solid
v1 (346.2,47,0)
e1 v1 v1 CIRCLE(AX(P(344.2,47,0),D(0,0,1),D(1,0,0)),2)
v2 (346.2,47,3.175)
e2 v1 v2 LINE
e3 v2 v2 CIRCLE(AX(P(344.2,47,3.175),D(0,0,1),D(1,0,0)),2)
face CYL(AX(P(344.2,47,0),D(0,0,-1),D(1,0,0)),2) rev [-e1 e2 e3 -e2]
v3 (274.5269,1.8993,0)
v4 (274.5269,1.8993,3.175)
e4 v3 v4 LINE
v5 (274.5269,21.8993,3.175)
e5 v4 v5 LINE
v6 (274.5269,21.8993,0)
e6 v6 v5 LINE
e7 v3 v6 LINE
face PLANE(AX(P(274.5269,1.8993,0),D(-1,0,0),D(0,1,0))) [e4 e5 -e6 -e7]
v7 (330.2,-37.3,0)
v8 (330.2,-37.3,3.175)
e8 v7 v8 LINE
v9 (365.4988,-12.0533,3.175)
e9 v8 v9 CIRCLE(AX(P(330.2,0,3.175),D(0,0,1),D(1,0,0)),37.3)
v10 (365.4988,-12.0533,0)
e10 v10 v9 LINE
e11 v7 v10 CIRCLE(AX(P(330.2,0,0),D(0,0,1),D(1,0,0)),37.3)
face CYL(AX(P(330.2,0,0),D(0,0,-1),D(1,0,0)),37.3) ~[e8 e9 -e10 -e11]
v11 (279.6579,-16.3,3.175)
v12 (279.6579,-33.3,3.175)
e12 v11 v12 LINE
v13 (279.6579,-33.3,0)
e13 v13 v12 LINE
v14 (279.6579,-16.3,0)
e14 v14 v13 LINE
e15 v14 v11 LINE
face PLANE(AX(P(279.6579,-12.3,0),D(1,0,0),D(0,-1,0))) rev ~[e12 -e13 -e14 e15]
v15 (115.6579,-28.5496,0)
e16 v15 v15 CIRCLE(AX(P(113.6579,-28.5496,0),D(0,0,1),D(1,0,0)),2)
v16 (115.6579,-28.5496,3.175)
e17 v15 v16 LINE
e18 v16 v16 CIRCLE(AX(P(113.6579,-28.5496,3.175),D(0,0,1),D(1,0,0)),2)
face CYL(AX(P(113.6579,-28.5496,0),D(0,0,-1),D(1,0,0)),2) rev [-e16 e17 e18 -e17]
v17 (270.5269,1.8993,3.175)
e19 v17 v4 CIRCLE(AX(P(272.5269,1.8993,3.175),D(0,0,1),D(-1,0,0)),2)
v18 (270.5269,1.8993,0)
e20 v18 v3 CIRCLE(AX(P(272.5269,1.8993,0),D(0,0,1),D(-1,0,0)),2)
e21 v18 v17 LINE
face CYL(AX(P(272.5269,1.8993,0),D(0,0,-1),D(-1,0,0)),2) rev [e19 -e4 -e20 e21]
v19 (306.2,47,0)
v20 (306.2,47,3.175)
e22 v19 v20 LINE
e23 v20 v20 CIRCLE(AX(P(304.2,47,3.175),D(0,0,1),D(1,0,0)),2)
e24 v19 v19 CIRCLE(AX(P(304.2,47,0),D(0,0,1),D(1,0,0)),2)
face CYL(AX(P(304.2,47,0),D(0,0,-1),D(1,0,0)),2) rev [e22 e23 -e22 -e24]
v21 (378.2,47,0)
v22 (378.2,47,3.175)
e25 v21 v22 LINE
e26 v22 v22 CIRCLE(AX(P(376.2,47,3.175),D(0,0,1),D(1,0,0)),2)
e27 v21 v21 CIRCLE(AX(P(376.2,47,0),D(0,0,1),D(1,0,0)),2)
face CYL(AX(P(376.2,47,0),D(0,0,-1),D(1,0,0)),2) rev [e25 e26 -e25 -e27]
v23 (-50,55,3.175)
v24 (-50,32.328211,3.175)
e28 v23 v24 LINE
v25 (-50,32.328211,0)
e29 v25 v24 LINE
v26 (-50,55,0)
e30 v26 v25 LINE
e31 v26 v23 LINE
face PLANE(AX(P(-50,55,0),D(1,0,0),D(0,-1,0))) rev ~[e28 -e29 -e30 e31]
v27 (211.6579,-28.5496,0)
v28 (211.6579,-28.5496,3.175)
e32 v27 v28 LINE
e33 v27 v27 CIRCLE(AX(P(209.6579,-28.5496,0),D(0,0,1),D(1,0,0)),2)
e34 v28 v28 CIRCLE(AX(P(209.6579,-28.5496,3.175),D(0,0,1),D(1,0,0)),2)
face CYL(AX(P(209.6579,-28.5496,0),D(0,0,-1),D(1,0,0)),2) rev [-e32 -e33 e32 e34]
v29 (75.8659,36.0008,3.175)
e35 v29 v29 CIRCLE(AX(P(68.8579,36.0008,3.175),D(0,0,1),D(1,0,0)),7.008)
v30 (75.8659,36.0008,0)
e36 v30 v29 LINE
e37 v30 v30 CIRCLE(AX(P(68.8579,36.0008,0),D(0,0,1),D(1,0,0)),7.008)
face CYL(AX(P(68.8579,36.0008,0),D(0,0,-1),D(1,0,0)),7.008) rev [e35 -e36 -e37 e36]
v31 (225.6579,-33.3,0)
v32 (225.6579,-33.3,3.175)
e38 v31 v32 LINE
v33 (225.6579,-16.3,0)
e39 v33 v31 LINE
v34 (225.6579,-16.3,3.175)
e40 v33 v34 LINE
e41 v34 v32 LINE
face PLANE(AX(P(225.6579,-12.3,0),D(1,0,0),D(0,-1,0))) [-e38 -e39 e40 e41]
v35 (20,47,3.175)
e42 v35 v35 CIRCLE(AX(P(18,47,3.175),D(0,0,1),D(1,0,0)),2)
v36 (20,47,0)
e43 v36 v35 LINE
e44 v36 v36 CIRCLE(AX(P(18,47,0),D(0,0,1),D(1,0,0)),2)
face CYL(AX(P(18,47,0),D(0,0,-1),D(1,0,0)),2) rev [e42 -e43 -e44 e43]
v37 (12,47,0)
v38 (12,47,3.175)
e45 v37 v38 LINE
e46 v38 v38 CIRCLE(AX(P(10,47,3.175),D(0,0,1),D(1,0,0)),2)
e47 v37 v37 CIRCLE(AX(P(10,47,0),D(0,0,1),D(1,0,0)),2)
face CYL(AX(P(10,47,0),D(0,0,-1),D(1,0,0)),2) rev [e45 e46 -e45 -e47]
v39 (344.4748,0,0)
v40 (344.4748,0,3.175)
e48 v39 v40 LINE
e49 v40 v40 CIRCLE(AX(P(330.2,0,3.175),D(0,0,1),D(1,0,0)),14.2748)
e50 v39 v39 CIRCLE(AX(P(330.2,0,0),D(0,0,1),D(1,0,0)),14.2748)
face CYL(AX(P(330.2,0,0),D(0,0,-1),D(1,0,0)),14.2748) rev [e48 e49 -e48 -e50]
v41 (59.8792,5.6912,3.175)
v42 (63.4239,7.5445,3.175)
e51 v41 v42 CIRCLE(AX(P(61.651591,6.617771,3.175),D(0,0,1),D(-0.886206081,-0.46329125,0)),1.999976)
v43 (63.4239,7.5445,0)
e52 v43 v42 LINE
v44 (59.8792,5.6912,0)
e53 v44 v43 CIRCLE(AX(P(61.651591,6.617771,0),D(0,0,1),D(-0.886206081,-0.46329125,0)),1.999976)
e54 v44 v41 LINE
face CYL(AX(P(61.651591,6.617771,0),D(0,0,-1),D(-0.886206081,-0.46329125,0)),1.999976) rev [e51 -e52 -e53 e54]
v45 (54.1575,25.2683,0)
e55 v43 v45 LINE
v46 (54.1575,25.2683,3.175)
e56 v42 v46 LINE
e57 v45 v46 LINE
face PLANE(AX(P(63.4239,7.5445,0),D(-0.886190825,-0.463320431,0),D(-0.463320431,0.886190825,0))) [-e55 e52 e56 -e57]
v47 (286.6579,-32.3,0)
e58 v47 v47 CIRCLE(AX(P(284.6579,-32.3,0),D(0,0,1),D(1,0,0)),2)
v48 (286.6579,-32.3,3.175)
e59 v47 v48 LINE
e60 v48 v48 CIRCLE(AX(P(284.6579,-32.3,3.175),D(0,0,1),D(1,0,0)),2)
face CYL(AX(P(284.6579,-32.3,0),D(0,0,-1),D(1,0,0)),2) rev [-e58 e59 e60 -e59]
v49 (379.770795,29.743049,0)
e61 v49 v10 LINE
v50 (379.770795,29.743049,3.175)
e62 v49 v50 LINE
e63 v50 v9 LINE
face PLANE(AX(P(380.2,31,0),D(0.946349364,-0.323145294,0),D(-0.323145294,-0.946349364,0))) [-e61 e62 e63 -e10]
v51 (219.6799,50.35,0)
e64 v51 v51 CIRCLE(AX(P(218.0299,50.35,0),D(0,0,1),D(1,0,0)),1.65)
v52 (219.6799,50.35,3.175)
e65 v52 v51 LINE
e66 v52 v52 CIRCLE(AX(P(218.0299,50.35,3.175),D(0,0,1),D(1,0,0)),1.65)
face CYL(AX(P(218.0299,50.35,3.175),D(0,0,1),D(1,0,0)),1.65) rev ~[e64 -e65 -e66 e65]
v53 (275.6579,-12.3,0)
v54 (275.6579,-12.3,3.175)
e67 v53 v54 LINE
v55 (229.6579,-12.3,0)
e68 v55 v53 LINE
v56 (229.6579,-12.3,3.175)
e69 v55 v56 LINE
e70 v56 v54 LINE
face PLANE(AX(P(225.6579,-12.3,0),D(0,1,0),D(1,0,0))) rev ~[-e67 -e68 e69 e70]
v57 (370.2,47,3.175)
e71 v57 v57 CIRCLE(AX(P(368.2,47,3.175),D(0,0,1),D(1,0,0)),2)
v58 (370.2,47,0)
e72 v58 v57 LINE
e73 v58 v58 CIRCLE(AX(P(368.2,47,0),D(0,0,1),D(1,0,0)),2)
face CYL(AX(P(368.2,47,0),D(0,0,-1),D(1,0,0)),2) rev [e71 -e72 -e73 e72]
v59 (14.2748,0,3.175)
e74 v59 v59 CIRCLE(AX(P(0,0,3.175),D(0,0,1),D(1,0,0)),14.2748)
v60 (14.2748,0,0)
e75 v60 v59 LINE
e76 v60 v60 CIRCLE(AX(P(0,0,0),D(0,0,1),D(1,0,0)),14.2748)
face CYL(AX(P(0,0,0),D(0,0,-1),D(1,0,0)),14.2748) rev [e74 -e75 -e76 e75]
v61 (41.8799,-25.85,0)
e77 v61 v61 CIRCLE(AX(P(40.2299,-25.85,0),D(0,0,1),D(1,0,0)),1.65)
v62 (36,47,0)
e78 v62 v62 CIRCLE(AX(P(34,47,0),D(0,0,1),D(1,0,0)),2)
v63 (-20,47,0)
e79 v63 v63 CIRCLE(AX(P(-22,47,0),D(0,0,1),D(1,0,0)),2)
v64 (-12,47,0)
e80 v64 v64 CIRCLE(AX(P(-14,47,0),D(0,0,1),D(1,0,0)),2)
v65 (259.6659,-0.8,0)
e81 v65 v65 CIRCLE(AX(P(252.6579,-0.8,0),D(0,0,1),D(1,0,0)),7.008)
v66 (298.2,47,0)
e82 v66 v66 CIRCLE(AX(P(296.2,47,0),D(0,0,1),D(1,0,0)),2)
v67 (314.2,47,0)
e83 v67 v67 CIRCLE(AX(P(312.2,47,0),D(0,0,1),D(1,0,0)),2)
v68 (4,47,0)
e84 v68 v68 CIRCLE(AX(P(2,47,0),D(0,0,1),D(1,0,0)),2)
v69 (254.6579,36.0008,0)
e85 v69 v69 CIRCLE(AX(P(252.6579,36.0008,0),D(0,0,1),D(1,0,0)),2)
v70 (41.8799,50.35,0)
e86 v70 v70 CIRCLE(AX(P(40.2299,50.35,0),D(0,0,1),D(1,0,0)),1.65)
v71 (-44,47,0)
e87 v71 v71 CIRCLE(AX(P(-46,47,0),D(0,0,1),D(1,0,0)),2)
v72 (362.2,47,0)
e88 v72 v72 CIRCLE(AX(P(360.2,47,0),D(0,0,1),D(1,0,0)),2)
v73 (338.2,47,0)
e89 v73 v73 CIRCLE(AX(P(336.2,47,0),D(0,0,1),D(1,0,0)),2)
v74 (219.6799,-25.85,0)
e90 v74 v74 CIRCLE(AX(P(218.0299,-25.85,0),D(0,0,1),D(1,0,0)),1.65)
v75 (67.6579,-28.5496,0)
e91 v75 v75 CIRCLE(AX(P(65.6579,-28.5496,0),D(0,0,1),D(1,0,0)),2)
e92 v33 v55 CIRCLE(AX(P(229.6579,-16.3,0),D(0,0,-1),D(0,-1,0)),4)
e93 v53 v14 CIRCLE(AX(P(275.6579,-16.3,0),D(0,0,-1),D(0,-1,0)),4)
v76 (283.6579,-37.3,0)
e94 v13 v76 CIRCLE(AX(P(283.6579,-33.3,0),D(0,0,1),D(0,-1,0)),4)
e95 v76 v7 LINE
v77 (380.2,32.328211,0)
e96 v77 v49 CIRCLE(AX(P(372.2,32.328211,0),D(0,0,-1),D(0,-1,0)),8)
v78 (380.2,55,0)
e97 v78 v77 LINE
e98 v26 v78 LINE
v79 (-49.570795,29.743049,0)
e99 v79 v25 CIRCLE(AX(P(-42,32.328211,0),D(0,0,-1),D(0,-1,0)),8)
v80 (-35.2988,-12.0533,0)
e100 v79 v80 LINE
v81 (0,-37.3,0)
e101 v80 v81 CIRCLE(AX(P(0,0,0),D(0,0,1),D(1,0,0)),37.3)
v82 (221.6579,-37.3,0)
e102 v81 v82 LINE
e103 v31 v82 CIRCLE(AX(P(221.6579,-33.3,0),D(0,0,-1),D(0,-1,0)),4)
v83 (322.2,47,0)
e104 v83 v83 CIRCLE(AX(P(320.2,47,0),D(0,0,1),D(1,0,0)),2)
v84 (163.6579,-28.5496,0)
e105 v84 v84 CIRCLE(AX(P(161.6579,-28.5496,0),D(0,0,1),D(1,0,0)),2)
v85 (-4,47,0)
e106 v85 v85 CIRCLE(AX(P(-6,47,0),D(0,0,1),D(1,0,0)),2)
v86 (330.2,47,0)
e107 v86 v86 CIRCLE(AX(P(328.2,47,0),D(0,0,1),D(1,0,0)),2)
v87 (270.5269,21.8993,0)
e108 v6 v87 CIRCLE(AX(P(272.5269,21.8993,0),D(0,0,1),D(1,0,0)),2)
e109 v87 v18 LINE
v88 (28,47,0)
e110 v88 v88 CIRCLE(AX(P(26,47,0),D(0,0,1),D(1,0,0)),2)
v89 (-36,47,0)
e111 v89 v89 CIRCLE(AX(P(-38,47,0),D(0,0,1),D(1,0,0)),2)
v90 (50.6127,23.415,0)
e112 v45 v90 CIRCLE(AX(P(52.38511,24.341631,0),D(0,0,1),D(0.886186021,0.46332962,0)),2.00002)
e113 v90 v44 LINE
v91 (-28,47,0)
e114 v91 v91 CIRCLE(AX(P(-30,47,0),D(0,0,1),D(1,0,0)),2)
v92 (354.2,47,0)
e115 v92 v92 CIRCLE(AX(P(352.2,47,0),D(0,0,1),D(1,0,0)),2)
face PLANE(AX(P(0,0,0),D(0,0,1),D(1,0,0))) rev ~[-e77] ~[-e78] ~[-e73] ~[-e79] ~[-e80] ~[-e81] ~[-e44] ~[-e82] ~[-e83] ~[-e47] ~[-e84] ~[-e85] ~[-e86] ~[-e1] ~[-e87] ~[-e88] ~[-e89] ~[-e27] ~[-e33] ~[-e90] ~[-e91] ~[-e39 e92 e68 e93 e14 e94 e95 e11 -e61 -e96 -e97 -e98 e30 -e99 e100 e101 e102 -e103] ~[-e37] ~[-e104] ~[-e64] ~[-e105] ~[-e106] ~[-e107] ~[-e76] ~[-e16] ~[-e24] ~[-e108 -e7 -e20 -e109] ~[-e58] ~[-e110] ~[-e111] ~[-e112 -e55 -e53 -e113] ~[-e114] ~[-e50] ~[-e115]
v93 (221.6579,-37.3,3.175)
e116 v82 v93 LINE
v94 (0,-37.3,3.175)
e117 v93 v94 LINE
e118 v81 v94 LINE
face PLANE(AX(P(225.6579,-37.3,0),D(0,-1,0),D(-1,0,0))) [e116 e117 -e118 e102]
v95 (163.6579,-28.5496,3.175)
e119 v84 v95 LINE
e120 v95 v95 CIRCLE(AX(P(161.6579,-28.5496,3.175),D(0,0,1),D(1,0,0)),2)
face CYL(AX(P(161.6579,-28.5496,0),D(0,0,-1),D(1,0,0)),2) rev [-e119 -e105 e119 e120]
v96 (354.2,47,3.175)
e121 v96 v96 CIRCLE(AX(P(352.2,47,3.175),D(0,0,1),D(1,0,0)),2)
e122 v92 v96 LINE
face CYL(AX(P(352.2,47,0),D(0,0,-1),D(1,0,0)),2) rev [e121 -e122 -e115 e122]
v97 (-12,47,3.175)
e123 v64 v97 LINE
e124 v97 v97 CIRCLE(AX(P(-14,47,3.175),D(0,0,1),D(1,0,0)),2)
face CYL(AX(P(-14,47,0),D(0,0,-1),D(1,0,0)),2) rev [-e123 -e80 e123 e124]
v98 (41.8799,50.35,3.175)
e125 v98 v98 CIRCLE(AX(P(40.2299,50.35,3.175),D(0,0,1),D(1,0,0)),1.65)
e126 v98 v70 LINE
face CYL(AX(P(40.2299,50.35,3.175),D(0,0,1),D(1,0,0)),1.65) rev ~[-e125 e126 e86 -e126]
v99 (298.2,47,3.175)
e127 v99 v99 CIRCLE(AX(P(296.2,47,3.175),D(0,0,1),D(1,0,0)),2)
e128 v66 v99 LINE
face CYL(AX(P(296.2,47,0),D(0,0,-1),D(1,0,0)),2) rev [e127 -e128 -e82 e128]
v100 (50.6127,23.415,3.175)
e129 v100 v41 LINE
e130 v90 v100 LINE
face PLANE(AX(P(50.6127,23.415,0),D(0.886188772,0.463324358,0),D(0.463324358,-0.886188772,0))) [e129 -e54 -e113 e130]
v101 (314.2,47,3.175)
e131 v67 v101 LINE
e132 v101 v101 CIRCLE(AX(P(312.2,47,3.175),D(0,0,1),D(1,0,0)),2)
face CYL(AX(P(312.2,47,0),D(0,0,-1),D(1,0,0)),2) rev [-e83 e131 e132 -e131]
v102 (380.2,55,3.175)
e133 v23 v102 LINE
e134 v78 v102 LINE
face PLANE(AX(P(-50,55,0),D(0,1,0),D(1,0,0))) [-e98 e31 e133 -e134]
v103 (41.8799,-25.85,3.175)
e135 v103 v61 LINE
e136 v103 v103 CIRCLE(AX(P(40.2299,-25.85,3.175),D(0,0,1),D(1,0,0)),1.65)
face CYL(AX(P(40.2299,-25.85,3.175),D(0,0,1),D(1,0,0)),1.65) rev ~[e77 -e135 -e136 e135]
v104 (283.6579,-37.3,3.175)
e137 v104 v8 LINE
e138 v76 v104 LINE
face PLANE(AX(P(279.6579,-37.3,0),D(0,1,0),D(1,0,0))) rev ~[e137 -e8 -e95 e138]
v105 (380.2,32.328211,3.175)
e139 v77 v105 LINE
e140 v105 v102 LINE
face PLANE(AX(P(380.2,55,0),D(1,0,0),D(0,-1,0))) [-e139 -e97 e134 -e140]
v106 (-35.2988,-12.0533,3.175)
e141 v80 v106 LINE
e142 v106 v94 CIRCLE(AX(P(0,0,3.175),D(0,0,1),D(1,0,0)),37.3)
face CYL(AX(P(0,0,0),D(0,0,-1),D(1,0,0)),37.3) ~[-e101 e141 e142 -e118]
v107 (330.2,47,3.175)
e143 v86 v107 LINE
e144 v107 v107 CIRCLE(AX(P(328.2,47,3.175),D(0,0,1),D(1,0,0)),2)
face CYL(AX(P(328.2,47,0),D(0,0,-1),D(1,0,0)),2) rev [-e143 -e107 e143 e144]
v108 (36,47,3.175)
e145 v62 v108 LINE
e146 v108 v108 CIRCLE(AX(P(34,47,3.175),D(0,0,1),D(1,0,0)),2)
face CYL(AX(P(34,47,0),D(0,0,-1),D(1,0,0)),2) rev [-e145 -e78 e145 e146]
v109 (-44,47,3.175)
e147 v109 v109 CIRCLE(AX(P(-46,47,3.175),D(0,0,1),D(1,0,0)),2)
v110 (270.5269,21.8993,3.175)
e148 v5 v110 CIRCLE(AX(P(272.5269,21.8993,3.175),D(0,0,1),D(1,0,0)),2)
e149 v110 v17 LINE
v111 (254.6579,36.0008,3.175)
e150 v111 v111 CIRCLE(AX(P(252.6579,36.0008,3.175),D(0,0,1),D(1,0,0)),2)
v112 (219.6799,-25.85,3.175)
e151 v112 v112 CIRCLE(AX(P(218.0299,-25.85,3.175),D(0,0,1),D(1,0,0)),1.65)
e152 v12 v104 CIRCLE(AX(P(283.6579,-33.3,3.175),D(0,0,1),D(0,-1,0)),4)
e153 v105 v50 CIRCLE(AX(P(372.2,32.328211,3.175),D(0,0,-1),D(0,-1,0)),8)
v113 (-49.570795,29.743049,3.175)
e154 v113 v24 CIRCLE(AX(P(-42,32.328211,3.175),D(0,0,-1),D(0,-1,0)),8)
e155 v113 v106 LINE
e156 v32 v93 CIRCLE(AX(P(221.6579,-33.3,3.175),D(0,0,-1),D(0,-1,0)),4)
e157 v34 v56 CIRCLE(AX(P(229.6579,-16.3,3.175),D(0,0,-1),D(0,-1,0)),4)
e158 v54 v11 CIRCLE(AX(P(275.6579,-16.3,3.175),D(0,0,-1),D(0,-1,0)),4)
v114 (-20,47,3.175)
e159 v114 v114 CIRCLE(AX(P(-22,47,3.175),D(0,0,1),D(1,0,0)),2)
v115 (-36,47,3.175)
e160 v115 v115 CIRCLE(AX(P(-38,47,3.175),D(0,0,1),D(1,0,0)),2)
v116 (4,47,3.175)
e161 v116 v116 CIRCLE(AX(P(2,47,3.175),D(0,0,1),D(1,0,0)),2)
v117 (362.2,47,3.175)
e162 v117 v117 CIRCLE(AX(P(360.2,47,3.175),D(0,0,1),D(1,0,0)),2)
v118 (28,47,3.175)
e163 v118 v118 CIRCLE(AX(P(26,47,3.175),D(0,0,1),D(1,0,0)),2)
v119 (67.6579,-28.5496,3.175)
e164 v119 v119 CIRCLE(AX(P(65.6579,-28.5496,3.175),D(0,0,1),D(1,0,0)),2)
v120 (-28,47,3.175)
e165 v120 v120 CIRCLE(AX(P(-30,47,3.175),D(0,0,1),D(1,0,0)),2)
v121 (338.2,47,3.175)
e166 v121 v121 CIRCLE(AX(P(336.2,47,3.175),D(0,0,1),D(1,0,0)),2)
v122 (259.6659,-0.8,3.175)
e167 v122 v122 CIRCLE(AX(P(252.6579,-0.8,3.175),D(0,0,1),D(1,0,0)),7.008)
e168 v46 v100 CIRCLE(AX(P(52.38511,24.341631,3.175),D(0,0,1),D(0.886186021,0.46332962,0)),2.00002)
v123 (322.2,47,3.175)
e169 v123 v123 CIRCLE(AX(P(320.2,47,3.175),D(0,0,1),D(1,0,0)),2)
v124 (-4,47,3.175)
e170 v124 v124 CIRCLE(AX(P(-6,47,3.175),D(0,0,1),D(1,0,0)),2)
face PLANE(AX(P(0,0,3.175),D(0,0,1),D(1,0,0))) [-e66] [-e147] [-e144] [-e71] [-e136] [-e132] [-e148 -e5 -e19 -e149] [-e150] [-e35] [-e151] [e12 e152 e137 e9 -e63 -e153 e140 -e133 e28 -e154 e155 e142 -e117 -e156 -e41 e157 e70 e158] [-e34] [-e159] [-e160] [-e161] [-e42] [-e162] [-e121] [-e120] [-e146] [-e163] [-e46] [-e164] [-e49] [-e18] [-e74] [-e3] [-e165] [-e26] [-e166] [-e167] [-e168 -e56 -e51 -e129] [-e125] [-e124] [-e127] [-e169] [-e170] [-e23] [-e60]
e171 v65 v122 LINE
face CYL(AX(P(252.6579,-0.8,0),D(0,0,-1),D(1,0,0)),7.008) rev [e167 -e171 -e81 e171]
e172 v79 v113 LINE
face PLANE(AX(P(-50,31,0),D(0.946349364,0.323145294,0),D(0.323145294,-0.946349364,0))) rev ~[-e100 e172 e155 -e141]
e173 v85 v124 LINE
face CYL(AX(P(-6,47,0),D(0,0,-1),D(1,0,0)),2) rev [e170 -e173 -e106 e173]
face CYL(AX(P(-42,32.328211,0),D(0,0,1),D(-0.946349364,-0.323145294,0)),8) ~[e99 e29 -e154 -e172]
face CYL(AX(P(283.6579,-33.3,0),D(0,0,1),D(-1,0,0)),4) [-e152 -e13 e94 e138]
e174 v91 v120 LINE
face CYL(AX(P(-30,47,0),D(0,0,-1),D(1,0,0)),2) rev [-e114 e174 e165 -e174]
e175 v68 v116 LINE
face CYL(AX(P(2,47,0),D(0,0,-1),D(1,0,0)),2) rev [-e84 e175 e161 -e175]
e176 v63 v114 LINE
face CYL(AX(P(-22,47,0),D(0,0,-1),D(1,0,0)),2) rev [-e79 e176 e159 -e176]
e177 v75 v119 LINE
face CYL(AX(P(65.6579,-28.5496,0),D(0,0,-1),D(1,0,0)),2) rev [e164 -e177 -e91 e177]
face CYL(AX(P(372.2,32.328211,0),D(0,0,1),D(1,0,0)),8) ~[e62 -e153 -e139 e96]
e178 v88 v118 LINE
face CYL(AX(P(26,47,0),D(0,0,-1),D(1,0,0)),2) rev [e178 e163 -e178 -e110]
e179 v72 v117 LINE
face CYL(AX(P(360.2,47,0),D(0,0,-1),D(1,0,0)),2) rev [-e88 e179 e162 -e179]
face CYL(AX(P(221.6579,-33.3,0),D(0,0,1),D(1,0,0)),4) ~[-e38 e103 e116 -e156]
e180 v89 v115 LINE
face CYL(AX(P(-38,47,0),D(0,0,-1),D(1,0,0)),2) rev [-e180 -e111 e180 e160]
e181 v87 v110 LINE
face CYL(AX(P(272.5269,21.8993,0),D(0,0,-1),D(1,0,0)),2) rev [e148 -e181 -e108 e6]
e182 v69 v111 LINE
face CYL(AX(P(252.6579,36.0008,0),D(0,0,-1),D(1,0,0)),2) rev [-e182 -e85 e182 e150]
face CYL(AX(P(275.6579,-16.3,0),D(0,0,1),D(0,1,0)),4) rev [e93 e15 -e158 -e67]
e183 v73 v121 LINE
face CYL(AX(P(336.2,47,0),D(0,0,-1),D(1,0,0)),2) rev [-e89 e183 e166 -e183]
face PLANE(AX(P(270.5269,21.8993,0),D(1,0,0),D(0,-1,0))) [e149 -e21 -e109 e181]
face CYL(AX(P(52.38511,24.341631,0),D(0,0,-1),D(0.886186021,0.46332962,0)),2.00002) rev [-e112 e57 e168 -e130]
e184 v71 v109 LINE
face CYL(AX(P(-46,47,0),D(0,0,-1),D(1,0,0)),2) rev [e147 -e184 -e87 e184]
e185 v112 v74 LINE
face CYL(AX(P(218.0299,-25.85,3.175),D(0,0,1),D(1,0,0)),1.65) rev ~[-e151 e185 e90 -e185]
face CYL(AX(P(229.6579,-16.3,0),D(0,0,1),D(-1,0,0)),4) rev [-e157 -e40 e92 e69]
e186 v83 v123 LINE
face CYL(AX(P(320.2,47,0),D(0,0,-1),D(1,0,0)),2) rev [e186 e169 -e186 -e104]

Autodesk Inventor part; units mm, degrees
ref_plane "YZ Plane" through (0, 0, 0) normal (1, 0, 0) x (0, 1, 0)
ref_plane "XZ Plane" through (0, 0, 0) normal (0, 1, 0) x (-1, 0, 0)
ref_plane "XY Plane" through (0, 0, 0) normal (0, 0, 1) x (1, 0, 0)
sketch "main_sketch" plane through (0, 0, 0) normal (0, 0, 1) x (1, 0, 0)
  circle A0 centre (0, 0) radius 50 construction
  circle A1 centre (330.2, 0) radius 50 construction
  circle A2 centre (0, 0) radius 12.7 construction
  circle A3 centre (330.2, 0) radius 12.7 construction
  circle A4 centre (68.8579, 36.0008) radius 12.7 construction
  circle A5 centre (252.6579, -0.8) radius 12.7 construction
  line L0 (68.8579, 36.0008) -> (0, 0) construction
  circle A6 centre (68.8579, 36.0008) radius 6.75 construction
  circle A7 centre (252.6579, -0.8) radius 6.75 construction
  line L1 (96.8579, 55) -> (220.7349, 55) construction
  line L2 (220.7349, 55) -> (220.7349, 17.0016) construction
  line L3 (220.7349, 17.0016) -> (96.8579, 17.0016) construction
  line L4 (96.8579, 17.0016) -> (96.8579, 55) construction
  line L5 (224.6579, -19.7992) -> (100.7809, -19.7992) construction
  line L6 (100.7809, -19.7992) -> (100.7809, 18.1992) construction
  line L7 (100.7809, 18.1992) -> (224.6579, 18.1992) construction
  line L8 (224.6579, 18.1992) -> (224.6579, -19.7992) construction
  line L9 (100.7809, -0.8) -> (224.6579, -0.8) construction
  line L10 (96.8579, 36.0008) -> (220.7349, 36.0008) construction
  line L11 (330.331, -12.6993) -> (252.7889, -13.4993) construction
  line L12 (5.8842, -11.2546) -> (74.7421, 24.7462) construction
  line L13 (-5.8842, 11.2546) -> (62.9737, 47.2554) construction
  line L14 (254.6579, -13.3) -> (278.6579, -13.3) construction
  line L15 (278.6579, -13.3) -> (278.6579, -37.3) construction
  line L16 (278.6579, -37.3) -> (254.6579, -37.3) construction
  line L17 (254.6579, -37.3) -> (254.6579, -13.3) construction
  line L18 (252.6579, -0.8) -> (330.2, 0) construction
  line L19 (0, -50) -> (330.2, -50) construction
  line L20 (250.6579, -37.3) -> (226.6579, -37.3) construction
  line L21 (226.6579, -37.3) -> (226.6579, -13.3) construction
  line L22 (226.6579, -13.3) -> (250.6579, -13.3) construction
  line L23 (250.6579, -13.3) -> (250.6579, -37.3) construction
  line L24 (-50, 58.175) -> (380.2, 58.175) construction
  line L25 (380.2, 58.175) -> (380.2, 55) construction
  line L26 (380.2, 55) -> (-50, 55) construction
  line L27 (-50, 55) -> (-50, 58.175) construction
  line L28 (252.5269, 11.8993) -> (330.069, 12.6993) construction
  line L29 (224.6579, 8.7) -> (238.5511, 8.7) construction
  line L30 (238.5511, 8.7) -> (238.5511, -10.3) construction
  line L31 (238.5511, -10.3) -> (224.6579, -10.3) construction
  line L32 (224.6579, -10.3) -> (224.6579, 8.7) construction
  line L33 (225.6579, -12.3) -> (279.6579, -12.3)
  line L34 (279.6579, -12.3) -> (279.6579, -37.3)
  line L35 (225.6579, -12.3) -> (225.6579, -37.3)
  line L36 (317.9425, 55) -> (342.8961, 55) construction
  line L37 (342.8961, 55) -> (342.8961, 50) construction
  line L38 (342.8961, 50) -> (317.9425, 50) construction
  line L39 (317.9425, 50) -> (317.9425, 55) construction
  line L40 (380.2, 55) -> (380.2, -5.9093) construction
  line L41 (-50, 55) -> (-50, 17.1992) construction
  line L42 (-50, 55) -> (380.2, 55) construction
  line L43 (-50, 55) -> (380.2, 55)
  circle A8 centre (330.2, 0) radius 14.2748
  circle A9 centre (0, 0) radius 14.2748
  circle A10 centre (252.6579, -0.8) radius 7.008
  circle A11 centre (68.8579, 36.0008) radius 7.008
  circle A12 centre (330.2, 0) radius 37.3
  circle A13 centre (0, 0) radius 37.3
  line L44 (380.2, 52.5) -> (380.2, 43) projected
  line L45 (380.2, 55) -> (380.2, 31)
  line L46 (380.2, 31) -> (365.4988, -12.0533)
  line L47 (279.6579, -37.3) -> (330.2, -37.3)
  line L48 (-50, 55) -> (-50, 31)
  line L49 (-50, 31) -> (-35.2988, -12.0533)
  line L50 (225.6579, -37.3) -> (0, -37.3)
  circle A14 centre (296.2, 47) radius 2 projected
  circle A15 centre (304.2, 47) radius 2 projected
  circle A16 centre (312.2, 47) radius 2 projected
  circle A17 centre (320.2, 47) radius 2 projected
  circle A18 centre (328.2, 47) radius 2 projected
  circle A19 centre (336.2, 47) radius 2 projected
  circle A20 centre (344.2, 47) radius 2 projected
  circle A21 centre (352.2, 47) radius 2 projected
  circle A22 centre (360.2, 47) radius 2 projected
  circle A23 centre (368.2, 47) radius 2 projected
  circle A24 centre (376.2, 47) radius 2 projected
  circle A25 centre (-46, 47) radius 2 projected
  circle A26 centre (-38, 47) radius 2 projected
  circle A27 centre (-30, 47) radius 2 projected
  circle A28 centre (-22, 47) radius 2 projected
  circle A29 centre (-6, 47) radius 2 projected
  circle A30 centre (-14, 47) radius 2 projected
  circle A31 centre (2, 47) radius 2 projected
  circle A32 centre (10, 47) radius 2 projected
  circle A33 centre (18, 47) radius 2 projected
  circle A34 centre (26, 47) radius 2 projected
  circle A35 centre (34, 47) radius 2 projected
  circle A36 centre (284.6579, -32.3) radius 4
  circle A37 centre (284.6579, -32.3) radius 2
  line L51 (272.5269, 21.8993) -> (272.5269, 1.8993) construction
  line L52 (270.5269, 21.8993) -> (270.5269, 1.8993)
  line L53 (274.5269, 1.8993) -> (274.5269, 21.8993)
  arc A38 (274.5269, 21.8993) -> (270.5269, 21.8993) centre (272.5269, 21.8993) ccw
  arc A39 (270.5269, 1.8993) -> (274.5269, 1.8993) centre (272.5269, 1.8993) ccw
  line L54 (61.6516, 6.6178) -> (52.3851, 24.3416) construction
  line L55 (63.4239, 7.5445) -> (54.1575, 25.2683)
  line L56 (50.6127, 23.415) -> (59.8792, 5.6912)
  arc A40 (59.8792, 5.6912) -> (63.4239, 7.5445) centre (61.6516, 6.6178) ccw
  arc A41 (54.1575, 25.2683) -> (50.6127, 23.415) centre (52.3851, 24.3416) ccw
  circle A42 centre (209.6579, -28.5496) radius 4
  line L57 (221.9902, -19.7992) -> (221.9902, -37.3)
  circle A43 centre (161.6579, -28.5496) radius 4
  circle A44 centre (113.6579, -28.5496) radius 4
  circle A45 centre (65.6579, -28.5496) radius 4
  circle A46 centre (209.6579, -28.5496) radius 2
  circle A47 centre (161.6579, -28.5496) radius 2
  circle A48 centre (113.6579, -28.5496) radius 2
  circle A49 centre (65.6579, -28.5496) radius 2
  circle A50 centre (252.6579, 36.0008) radius 4
  circle A51 centre (252.6579, 36.0008) radius 2
  point P0 (238.5511, -0.8)
  point P1 (272.5269, 11.8993)
  point P2 (57.0183, 15.4797)
  point P3 (221.9902, -28.5496)
  dimension "d0" = 100
  dimension "d1" = 100
  dimension "d2" = 25.4
  dimension "d3" = 25.4
  dimension "d4" = 25.4
  dimension "d5" = 25.4
  dimension "d6" = 13.5
  dimension "d7" = 13.5
  dimension "d8" = 37.9984
  dimension "d9" = 37.9984
  dimension "d10" = 24
  dimension "d11" = 24
  dimension "d12" = 77.5462
  dimension "d13" = 330.2
  dimension "d14" = 123.877
  dimension "d15" = 123.877
  dimension "d16" = 28
  dimension "d17" = 28
  dimension "d18" = 77.7011
  dimension "d19" = 12.7
  dimension "d20" = 24
  dimension "d21" = 3.175
  dimension "d23" = 12.7
  dimension "d24" = 4
  dimension "d25" = 19
  dimension "d26" = 1
  dimension "d27" = 1
  dimension "d28" = 1
  dimension "d29" = 1
  dimension "d32" = 5
  dimension "d34" = 2
  dimension "d40" = 28.5496
  dimension "d41" = 28.5496
  dimension "d42" = 14.016
  dimension "d43" = 14.016
  dimension "d45" = 24
  dimension "d46" = 24
  dimension "d48" = 8
  dimension "d49" = 5
  dimension "d50" = 5
  dimension "d51" = 4
  dimension "d52" = 4
  dimension "d53" = 20
  dimension "d54" = 20
  dimension "d55" = 4
  dimension "d56" = 20
  dimension "d57" = 18
  dimension "d58" = 8
  dimension "d59" = 16
  dimension "d62" = 48
  dimension "d67" = 4
  dimension "d68" = 4
  dimension "d69" = 4
  dimension "d70" = 4
  dimension "d71" = 8
  dimension "d72" = 4
extrude "Extrusion1" add sketch "main_sketch" along normal blind 3.175 contours L35 L50 A13 L49 L48 L43 L45 L44 L46 A12 L47 L34 L33 | A12 | A13 | A36 | A42 | A43 | A44 | A45 | A50
fillet "Fillet4" radius 4 4 edges at (279.6579, -37.3, 1.5875) (279.6579, -12.3, 1.5875) (225.6579, -12.3, 1.5875) (225.6579, -37.3, 1.5875)
fillet "Fillet5" radius 8 2 edges at (-50, 31, 1.5875) (380.2, 31, 1.5875)
sketch "Sketch3" plane through (0, 0, 3.175) normal (0, 0, 1) x (1, 0, 0)
  line L0 (40.2299, 50.35) -> (218.0299, 50.35) construction
  line L1 (218.0299, 50.35) -> (218.0299, -25.85) construction
  line L2 (218.0299, -25.85) -> (40.2299, -25.85) construction
  line L3 (40.2299, -25.85) -> (40.2299, 50.35) construction
  circle A0 centre (40.2299, 50.35) radius 1.65
  circle A1 centre (218.0299, 50.35) radius 1.65
  circle A2 centre (40.2299, -25.85) radius 1.65
  circle A3 centre (218.0299, -25.85) radius 1.65
  line L4 (380.2, 55) -> (-50, 55) projected
  circle A4 centre (68.8579, 36.0008) radius 7.008 projected
  point P0 (0, 0)
  dimension "d109" = 177.8
  dimension "d110" = 76.2
  dimension "d111" = 3.3
  dimension "d112" = 3.3
  dimension "d113" = 3.3
  dimension "d114" = 3.3
  dimension "d115" = 4.65
extrude "Extrusion2" cut sketch "Sketch3" against normal through all contours A0 | A1 | A2 | A3
equation "\"d9\" = d8"
equation "\"d15\" = d14"
equation "\"d20\" = d10"
properties part number "outside_plate"
